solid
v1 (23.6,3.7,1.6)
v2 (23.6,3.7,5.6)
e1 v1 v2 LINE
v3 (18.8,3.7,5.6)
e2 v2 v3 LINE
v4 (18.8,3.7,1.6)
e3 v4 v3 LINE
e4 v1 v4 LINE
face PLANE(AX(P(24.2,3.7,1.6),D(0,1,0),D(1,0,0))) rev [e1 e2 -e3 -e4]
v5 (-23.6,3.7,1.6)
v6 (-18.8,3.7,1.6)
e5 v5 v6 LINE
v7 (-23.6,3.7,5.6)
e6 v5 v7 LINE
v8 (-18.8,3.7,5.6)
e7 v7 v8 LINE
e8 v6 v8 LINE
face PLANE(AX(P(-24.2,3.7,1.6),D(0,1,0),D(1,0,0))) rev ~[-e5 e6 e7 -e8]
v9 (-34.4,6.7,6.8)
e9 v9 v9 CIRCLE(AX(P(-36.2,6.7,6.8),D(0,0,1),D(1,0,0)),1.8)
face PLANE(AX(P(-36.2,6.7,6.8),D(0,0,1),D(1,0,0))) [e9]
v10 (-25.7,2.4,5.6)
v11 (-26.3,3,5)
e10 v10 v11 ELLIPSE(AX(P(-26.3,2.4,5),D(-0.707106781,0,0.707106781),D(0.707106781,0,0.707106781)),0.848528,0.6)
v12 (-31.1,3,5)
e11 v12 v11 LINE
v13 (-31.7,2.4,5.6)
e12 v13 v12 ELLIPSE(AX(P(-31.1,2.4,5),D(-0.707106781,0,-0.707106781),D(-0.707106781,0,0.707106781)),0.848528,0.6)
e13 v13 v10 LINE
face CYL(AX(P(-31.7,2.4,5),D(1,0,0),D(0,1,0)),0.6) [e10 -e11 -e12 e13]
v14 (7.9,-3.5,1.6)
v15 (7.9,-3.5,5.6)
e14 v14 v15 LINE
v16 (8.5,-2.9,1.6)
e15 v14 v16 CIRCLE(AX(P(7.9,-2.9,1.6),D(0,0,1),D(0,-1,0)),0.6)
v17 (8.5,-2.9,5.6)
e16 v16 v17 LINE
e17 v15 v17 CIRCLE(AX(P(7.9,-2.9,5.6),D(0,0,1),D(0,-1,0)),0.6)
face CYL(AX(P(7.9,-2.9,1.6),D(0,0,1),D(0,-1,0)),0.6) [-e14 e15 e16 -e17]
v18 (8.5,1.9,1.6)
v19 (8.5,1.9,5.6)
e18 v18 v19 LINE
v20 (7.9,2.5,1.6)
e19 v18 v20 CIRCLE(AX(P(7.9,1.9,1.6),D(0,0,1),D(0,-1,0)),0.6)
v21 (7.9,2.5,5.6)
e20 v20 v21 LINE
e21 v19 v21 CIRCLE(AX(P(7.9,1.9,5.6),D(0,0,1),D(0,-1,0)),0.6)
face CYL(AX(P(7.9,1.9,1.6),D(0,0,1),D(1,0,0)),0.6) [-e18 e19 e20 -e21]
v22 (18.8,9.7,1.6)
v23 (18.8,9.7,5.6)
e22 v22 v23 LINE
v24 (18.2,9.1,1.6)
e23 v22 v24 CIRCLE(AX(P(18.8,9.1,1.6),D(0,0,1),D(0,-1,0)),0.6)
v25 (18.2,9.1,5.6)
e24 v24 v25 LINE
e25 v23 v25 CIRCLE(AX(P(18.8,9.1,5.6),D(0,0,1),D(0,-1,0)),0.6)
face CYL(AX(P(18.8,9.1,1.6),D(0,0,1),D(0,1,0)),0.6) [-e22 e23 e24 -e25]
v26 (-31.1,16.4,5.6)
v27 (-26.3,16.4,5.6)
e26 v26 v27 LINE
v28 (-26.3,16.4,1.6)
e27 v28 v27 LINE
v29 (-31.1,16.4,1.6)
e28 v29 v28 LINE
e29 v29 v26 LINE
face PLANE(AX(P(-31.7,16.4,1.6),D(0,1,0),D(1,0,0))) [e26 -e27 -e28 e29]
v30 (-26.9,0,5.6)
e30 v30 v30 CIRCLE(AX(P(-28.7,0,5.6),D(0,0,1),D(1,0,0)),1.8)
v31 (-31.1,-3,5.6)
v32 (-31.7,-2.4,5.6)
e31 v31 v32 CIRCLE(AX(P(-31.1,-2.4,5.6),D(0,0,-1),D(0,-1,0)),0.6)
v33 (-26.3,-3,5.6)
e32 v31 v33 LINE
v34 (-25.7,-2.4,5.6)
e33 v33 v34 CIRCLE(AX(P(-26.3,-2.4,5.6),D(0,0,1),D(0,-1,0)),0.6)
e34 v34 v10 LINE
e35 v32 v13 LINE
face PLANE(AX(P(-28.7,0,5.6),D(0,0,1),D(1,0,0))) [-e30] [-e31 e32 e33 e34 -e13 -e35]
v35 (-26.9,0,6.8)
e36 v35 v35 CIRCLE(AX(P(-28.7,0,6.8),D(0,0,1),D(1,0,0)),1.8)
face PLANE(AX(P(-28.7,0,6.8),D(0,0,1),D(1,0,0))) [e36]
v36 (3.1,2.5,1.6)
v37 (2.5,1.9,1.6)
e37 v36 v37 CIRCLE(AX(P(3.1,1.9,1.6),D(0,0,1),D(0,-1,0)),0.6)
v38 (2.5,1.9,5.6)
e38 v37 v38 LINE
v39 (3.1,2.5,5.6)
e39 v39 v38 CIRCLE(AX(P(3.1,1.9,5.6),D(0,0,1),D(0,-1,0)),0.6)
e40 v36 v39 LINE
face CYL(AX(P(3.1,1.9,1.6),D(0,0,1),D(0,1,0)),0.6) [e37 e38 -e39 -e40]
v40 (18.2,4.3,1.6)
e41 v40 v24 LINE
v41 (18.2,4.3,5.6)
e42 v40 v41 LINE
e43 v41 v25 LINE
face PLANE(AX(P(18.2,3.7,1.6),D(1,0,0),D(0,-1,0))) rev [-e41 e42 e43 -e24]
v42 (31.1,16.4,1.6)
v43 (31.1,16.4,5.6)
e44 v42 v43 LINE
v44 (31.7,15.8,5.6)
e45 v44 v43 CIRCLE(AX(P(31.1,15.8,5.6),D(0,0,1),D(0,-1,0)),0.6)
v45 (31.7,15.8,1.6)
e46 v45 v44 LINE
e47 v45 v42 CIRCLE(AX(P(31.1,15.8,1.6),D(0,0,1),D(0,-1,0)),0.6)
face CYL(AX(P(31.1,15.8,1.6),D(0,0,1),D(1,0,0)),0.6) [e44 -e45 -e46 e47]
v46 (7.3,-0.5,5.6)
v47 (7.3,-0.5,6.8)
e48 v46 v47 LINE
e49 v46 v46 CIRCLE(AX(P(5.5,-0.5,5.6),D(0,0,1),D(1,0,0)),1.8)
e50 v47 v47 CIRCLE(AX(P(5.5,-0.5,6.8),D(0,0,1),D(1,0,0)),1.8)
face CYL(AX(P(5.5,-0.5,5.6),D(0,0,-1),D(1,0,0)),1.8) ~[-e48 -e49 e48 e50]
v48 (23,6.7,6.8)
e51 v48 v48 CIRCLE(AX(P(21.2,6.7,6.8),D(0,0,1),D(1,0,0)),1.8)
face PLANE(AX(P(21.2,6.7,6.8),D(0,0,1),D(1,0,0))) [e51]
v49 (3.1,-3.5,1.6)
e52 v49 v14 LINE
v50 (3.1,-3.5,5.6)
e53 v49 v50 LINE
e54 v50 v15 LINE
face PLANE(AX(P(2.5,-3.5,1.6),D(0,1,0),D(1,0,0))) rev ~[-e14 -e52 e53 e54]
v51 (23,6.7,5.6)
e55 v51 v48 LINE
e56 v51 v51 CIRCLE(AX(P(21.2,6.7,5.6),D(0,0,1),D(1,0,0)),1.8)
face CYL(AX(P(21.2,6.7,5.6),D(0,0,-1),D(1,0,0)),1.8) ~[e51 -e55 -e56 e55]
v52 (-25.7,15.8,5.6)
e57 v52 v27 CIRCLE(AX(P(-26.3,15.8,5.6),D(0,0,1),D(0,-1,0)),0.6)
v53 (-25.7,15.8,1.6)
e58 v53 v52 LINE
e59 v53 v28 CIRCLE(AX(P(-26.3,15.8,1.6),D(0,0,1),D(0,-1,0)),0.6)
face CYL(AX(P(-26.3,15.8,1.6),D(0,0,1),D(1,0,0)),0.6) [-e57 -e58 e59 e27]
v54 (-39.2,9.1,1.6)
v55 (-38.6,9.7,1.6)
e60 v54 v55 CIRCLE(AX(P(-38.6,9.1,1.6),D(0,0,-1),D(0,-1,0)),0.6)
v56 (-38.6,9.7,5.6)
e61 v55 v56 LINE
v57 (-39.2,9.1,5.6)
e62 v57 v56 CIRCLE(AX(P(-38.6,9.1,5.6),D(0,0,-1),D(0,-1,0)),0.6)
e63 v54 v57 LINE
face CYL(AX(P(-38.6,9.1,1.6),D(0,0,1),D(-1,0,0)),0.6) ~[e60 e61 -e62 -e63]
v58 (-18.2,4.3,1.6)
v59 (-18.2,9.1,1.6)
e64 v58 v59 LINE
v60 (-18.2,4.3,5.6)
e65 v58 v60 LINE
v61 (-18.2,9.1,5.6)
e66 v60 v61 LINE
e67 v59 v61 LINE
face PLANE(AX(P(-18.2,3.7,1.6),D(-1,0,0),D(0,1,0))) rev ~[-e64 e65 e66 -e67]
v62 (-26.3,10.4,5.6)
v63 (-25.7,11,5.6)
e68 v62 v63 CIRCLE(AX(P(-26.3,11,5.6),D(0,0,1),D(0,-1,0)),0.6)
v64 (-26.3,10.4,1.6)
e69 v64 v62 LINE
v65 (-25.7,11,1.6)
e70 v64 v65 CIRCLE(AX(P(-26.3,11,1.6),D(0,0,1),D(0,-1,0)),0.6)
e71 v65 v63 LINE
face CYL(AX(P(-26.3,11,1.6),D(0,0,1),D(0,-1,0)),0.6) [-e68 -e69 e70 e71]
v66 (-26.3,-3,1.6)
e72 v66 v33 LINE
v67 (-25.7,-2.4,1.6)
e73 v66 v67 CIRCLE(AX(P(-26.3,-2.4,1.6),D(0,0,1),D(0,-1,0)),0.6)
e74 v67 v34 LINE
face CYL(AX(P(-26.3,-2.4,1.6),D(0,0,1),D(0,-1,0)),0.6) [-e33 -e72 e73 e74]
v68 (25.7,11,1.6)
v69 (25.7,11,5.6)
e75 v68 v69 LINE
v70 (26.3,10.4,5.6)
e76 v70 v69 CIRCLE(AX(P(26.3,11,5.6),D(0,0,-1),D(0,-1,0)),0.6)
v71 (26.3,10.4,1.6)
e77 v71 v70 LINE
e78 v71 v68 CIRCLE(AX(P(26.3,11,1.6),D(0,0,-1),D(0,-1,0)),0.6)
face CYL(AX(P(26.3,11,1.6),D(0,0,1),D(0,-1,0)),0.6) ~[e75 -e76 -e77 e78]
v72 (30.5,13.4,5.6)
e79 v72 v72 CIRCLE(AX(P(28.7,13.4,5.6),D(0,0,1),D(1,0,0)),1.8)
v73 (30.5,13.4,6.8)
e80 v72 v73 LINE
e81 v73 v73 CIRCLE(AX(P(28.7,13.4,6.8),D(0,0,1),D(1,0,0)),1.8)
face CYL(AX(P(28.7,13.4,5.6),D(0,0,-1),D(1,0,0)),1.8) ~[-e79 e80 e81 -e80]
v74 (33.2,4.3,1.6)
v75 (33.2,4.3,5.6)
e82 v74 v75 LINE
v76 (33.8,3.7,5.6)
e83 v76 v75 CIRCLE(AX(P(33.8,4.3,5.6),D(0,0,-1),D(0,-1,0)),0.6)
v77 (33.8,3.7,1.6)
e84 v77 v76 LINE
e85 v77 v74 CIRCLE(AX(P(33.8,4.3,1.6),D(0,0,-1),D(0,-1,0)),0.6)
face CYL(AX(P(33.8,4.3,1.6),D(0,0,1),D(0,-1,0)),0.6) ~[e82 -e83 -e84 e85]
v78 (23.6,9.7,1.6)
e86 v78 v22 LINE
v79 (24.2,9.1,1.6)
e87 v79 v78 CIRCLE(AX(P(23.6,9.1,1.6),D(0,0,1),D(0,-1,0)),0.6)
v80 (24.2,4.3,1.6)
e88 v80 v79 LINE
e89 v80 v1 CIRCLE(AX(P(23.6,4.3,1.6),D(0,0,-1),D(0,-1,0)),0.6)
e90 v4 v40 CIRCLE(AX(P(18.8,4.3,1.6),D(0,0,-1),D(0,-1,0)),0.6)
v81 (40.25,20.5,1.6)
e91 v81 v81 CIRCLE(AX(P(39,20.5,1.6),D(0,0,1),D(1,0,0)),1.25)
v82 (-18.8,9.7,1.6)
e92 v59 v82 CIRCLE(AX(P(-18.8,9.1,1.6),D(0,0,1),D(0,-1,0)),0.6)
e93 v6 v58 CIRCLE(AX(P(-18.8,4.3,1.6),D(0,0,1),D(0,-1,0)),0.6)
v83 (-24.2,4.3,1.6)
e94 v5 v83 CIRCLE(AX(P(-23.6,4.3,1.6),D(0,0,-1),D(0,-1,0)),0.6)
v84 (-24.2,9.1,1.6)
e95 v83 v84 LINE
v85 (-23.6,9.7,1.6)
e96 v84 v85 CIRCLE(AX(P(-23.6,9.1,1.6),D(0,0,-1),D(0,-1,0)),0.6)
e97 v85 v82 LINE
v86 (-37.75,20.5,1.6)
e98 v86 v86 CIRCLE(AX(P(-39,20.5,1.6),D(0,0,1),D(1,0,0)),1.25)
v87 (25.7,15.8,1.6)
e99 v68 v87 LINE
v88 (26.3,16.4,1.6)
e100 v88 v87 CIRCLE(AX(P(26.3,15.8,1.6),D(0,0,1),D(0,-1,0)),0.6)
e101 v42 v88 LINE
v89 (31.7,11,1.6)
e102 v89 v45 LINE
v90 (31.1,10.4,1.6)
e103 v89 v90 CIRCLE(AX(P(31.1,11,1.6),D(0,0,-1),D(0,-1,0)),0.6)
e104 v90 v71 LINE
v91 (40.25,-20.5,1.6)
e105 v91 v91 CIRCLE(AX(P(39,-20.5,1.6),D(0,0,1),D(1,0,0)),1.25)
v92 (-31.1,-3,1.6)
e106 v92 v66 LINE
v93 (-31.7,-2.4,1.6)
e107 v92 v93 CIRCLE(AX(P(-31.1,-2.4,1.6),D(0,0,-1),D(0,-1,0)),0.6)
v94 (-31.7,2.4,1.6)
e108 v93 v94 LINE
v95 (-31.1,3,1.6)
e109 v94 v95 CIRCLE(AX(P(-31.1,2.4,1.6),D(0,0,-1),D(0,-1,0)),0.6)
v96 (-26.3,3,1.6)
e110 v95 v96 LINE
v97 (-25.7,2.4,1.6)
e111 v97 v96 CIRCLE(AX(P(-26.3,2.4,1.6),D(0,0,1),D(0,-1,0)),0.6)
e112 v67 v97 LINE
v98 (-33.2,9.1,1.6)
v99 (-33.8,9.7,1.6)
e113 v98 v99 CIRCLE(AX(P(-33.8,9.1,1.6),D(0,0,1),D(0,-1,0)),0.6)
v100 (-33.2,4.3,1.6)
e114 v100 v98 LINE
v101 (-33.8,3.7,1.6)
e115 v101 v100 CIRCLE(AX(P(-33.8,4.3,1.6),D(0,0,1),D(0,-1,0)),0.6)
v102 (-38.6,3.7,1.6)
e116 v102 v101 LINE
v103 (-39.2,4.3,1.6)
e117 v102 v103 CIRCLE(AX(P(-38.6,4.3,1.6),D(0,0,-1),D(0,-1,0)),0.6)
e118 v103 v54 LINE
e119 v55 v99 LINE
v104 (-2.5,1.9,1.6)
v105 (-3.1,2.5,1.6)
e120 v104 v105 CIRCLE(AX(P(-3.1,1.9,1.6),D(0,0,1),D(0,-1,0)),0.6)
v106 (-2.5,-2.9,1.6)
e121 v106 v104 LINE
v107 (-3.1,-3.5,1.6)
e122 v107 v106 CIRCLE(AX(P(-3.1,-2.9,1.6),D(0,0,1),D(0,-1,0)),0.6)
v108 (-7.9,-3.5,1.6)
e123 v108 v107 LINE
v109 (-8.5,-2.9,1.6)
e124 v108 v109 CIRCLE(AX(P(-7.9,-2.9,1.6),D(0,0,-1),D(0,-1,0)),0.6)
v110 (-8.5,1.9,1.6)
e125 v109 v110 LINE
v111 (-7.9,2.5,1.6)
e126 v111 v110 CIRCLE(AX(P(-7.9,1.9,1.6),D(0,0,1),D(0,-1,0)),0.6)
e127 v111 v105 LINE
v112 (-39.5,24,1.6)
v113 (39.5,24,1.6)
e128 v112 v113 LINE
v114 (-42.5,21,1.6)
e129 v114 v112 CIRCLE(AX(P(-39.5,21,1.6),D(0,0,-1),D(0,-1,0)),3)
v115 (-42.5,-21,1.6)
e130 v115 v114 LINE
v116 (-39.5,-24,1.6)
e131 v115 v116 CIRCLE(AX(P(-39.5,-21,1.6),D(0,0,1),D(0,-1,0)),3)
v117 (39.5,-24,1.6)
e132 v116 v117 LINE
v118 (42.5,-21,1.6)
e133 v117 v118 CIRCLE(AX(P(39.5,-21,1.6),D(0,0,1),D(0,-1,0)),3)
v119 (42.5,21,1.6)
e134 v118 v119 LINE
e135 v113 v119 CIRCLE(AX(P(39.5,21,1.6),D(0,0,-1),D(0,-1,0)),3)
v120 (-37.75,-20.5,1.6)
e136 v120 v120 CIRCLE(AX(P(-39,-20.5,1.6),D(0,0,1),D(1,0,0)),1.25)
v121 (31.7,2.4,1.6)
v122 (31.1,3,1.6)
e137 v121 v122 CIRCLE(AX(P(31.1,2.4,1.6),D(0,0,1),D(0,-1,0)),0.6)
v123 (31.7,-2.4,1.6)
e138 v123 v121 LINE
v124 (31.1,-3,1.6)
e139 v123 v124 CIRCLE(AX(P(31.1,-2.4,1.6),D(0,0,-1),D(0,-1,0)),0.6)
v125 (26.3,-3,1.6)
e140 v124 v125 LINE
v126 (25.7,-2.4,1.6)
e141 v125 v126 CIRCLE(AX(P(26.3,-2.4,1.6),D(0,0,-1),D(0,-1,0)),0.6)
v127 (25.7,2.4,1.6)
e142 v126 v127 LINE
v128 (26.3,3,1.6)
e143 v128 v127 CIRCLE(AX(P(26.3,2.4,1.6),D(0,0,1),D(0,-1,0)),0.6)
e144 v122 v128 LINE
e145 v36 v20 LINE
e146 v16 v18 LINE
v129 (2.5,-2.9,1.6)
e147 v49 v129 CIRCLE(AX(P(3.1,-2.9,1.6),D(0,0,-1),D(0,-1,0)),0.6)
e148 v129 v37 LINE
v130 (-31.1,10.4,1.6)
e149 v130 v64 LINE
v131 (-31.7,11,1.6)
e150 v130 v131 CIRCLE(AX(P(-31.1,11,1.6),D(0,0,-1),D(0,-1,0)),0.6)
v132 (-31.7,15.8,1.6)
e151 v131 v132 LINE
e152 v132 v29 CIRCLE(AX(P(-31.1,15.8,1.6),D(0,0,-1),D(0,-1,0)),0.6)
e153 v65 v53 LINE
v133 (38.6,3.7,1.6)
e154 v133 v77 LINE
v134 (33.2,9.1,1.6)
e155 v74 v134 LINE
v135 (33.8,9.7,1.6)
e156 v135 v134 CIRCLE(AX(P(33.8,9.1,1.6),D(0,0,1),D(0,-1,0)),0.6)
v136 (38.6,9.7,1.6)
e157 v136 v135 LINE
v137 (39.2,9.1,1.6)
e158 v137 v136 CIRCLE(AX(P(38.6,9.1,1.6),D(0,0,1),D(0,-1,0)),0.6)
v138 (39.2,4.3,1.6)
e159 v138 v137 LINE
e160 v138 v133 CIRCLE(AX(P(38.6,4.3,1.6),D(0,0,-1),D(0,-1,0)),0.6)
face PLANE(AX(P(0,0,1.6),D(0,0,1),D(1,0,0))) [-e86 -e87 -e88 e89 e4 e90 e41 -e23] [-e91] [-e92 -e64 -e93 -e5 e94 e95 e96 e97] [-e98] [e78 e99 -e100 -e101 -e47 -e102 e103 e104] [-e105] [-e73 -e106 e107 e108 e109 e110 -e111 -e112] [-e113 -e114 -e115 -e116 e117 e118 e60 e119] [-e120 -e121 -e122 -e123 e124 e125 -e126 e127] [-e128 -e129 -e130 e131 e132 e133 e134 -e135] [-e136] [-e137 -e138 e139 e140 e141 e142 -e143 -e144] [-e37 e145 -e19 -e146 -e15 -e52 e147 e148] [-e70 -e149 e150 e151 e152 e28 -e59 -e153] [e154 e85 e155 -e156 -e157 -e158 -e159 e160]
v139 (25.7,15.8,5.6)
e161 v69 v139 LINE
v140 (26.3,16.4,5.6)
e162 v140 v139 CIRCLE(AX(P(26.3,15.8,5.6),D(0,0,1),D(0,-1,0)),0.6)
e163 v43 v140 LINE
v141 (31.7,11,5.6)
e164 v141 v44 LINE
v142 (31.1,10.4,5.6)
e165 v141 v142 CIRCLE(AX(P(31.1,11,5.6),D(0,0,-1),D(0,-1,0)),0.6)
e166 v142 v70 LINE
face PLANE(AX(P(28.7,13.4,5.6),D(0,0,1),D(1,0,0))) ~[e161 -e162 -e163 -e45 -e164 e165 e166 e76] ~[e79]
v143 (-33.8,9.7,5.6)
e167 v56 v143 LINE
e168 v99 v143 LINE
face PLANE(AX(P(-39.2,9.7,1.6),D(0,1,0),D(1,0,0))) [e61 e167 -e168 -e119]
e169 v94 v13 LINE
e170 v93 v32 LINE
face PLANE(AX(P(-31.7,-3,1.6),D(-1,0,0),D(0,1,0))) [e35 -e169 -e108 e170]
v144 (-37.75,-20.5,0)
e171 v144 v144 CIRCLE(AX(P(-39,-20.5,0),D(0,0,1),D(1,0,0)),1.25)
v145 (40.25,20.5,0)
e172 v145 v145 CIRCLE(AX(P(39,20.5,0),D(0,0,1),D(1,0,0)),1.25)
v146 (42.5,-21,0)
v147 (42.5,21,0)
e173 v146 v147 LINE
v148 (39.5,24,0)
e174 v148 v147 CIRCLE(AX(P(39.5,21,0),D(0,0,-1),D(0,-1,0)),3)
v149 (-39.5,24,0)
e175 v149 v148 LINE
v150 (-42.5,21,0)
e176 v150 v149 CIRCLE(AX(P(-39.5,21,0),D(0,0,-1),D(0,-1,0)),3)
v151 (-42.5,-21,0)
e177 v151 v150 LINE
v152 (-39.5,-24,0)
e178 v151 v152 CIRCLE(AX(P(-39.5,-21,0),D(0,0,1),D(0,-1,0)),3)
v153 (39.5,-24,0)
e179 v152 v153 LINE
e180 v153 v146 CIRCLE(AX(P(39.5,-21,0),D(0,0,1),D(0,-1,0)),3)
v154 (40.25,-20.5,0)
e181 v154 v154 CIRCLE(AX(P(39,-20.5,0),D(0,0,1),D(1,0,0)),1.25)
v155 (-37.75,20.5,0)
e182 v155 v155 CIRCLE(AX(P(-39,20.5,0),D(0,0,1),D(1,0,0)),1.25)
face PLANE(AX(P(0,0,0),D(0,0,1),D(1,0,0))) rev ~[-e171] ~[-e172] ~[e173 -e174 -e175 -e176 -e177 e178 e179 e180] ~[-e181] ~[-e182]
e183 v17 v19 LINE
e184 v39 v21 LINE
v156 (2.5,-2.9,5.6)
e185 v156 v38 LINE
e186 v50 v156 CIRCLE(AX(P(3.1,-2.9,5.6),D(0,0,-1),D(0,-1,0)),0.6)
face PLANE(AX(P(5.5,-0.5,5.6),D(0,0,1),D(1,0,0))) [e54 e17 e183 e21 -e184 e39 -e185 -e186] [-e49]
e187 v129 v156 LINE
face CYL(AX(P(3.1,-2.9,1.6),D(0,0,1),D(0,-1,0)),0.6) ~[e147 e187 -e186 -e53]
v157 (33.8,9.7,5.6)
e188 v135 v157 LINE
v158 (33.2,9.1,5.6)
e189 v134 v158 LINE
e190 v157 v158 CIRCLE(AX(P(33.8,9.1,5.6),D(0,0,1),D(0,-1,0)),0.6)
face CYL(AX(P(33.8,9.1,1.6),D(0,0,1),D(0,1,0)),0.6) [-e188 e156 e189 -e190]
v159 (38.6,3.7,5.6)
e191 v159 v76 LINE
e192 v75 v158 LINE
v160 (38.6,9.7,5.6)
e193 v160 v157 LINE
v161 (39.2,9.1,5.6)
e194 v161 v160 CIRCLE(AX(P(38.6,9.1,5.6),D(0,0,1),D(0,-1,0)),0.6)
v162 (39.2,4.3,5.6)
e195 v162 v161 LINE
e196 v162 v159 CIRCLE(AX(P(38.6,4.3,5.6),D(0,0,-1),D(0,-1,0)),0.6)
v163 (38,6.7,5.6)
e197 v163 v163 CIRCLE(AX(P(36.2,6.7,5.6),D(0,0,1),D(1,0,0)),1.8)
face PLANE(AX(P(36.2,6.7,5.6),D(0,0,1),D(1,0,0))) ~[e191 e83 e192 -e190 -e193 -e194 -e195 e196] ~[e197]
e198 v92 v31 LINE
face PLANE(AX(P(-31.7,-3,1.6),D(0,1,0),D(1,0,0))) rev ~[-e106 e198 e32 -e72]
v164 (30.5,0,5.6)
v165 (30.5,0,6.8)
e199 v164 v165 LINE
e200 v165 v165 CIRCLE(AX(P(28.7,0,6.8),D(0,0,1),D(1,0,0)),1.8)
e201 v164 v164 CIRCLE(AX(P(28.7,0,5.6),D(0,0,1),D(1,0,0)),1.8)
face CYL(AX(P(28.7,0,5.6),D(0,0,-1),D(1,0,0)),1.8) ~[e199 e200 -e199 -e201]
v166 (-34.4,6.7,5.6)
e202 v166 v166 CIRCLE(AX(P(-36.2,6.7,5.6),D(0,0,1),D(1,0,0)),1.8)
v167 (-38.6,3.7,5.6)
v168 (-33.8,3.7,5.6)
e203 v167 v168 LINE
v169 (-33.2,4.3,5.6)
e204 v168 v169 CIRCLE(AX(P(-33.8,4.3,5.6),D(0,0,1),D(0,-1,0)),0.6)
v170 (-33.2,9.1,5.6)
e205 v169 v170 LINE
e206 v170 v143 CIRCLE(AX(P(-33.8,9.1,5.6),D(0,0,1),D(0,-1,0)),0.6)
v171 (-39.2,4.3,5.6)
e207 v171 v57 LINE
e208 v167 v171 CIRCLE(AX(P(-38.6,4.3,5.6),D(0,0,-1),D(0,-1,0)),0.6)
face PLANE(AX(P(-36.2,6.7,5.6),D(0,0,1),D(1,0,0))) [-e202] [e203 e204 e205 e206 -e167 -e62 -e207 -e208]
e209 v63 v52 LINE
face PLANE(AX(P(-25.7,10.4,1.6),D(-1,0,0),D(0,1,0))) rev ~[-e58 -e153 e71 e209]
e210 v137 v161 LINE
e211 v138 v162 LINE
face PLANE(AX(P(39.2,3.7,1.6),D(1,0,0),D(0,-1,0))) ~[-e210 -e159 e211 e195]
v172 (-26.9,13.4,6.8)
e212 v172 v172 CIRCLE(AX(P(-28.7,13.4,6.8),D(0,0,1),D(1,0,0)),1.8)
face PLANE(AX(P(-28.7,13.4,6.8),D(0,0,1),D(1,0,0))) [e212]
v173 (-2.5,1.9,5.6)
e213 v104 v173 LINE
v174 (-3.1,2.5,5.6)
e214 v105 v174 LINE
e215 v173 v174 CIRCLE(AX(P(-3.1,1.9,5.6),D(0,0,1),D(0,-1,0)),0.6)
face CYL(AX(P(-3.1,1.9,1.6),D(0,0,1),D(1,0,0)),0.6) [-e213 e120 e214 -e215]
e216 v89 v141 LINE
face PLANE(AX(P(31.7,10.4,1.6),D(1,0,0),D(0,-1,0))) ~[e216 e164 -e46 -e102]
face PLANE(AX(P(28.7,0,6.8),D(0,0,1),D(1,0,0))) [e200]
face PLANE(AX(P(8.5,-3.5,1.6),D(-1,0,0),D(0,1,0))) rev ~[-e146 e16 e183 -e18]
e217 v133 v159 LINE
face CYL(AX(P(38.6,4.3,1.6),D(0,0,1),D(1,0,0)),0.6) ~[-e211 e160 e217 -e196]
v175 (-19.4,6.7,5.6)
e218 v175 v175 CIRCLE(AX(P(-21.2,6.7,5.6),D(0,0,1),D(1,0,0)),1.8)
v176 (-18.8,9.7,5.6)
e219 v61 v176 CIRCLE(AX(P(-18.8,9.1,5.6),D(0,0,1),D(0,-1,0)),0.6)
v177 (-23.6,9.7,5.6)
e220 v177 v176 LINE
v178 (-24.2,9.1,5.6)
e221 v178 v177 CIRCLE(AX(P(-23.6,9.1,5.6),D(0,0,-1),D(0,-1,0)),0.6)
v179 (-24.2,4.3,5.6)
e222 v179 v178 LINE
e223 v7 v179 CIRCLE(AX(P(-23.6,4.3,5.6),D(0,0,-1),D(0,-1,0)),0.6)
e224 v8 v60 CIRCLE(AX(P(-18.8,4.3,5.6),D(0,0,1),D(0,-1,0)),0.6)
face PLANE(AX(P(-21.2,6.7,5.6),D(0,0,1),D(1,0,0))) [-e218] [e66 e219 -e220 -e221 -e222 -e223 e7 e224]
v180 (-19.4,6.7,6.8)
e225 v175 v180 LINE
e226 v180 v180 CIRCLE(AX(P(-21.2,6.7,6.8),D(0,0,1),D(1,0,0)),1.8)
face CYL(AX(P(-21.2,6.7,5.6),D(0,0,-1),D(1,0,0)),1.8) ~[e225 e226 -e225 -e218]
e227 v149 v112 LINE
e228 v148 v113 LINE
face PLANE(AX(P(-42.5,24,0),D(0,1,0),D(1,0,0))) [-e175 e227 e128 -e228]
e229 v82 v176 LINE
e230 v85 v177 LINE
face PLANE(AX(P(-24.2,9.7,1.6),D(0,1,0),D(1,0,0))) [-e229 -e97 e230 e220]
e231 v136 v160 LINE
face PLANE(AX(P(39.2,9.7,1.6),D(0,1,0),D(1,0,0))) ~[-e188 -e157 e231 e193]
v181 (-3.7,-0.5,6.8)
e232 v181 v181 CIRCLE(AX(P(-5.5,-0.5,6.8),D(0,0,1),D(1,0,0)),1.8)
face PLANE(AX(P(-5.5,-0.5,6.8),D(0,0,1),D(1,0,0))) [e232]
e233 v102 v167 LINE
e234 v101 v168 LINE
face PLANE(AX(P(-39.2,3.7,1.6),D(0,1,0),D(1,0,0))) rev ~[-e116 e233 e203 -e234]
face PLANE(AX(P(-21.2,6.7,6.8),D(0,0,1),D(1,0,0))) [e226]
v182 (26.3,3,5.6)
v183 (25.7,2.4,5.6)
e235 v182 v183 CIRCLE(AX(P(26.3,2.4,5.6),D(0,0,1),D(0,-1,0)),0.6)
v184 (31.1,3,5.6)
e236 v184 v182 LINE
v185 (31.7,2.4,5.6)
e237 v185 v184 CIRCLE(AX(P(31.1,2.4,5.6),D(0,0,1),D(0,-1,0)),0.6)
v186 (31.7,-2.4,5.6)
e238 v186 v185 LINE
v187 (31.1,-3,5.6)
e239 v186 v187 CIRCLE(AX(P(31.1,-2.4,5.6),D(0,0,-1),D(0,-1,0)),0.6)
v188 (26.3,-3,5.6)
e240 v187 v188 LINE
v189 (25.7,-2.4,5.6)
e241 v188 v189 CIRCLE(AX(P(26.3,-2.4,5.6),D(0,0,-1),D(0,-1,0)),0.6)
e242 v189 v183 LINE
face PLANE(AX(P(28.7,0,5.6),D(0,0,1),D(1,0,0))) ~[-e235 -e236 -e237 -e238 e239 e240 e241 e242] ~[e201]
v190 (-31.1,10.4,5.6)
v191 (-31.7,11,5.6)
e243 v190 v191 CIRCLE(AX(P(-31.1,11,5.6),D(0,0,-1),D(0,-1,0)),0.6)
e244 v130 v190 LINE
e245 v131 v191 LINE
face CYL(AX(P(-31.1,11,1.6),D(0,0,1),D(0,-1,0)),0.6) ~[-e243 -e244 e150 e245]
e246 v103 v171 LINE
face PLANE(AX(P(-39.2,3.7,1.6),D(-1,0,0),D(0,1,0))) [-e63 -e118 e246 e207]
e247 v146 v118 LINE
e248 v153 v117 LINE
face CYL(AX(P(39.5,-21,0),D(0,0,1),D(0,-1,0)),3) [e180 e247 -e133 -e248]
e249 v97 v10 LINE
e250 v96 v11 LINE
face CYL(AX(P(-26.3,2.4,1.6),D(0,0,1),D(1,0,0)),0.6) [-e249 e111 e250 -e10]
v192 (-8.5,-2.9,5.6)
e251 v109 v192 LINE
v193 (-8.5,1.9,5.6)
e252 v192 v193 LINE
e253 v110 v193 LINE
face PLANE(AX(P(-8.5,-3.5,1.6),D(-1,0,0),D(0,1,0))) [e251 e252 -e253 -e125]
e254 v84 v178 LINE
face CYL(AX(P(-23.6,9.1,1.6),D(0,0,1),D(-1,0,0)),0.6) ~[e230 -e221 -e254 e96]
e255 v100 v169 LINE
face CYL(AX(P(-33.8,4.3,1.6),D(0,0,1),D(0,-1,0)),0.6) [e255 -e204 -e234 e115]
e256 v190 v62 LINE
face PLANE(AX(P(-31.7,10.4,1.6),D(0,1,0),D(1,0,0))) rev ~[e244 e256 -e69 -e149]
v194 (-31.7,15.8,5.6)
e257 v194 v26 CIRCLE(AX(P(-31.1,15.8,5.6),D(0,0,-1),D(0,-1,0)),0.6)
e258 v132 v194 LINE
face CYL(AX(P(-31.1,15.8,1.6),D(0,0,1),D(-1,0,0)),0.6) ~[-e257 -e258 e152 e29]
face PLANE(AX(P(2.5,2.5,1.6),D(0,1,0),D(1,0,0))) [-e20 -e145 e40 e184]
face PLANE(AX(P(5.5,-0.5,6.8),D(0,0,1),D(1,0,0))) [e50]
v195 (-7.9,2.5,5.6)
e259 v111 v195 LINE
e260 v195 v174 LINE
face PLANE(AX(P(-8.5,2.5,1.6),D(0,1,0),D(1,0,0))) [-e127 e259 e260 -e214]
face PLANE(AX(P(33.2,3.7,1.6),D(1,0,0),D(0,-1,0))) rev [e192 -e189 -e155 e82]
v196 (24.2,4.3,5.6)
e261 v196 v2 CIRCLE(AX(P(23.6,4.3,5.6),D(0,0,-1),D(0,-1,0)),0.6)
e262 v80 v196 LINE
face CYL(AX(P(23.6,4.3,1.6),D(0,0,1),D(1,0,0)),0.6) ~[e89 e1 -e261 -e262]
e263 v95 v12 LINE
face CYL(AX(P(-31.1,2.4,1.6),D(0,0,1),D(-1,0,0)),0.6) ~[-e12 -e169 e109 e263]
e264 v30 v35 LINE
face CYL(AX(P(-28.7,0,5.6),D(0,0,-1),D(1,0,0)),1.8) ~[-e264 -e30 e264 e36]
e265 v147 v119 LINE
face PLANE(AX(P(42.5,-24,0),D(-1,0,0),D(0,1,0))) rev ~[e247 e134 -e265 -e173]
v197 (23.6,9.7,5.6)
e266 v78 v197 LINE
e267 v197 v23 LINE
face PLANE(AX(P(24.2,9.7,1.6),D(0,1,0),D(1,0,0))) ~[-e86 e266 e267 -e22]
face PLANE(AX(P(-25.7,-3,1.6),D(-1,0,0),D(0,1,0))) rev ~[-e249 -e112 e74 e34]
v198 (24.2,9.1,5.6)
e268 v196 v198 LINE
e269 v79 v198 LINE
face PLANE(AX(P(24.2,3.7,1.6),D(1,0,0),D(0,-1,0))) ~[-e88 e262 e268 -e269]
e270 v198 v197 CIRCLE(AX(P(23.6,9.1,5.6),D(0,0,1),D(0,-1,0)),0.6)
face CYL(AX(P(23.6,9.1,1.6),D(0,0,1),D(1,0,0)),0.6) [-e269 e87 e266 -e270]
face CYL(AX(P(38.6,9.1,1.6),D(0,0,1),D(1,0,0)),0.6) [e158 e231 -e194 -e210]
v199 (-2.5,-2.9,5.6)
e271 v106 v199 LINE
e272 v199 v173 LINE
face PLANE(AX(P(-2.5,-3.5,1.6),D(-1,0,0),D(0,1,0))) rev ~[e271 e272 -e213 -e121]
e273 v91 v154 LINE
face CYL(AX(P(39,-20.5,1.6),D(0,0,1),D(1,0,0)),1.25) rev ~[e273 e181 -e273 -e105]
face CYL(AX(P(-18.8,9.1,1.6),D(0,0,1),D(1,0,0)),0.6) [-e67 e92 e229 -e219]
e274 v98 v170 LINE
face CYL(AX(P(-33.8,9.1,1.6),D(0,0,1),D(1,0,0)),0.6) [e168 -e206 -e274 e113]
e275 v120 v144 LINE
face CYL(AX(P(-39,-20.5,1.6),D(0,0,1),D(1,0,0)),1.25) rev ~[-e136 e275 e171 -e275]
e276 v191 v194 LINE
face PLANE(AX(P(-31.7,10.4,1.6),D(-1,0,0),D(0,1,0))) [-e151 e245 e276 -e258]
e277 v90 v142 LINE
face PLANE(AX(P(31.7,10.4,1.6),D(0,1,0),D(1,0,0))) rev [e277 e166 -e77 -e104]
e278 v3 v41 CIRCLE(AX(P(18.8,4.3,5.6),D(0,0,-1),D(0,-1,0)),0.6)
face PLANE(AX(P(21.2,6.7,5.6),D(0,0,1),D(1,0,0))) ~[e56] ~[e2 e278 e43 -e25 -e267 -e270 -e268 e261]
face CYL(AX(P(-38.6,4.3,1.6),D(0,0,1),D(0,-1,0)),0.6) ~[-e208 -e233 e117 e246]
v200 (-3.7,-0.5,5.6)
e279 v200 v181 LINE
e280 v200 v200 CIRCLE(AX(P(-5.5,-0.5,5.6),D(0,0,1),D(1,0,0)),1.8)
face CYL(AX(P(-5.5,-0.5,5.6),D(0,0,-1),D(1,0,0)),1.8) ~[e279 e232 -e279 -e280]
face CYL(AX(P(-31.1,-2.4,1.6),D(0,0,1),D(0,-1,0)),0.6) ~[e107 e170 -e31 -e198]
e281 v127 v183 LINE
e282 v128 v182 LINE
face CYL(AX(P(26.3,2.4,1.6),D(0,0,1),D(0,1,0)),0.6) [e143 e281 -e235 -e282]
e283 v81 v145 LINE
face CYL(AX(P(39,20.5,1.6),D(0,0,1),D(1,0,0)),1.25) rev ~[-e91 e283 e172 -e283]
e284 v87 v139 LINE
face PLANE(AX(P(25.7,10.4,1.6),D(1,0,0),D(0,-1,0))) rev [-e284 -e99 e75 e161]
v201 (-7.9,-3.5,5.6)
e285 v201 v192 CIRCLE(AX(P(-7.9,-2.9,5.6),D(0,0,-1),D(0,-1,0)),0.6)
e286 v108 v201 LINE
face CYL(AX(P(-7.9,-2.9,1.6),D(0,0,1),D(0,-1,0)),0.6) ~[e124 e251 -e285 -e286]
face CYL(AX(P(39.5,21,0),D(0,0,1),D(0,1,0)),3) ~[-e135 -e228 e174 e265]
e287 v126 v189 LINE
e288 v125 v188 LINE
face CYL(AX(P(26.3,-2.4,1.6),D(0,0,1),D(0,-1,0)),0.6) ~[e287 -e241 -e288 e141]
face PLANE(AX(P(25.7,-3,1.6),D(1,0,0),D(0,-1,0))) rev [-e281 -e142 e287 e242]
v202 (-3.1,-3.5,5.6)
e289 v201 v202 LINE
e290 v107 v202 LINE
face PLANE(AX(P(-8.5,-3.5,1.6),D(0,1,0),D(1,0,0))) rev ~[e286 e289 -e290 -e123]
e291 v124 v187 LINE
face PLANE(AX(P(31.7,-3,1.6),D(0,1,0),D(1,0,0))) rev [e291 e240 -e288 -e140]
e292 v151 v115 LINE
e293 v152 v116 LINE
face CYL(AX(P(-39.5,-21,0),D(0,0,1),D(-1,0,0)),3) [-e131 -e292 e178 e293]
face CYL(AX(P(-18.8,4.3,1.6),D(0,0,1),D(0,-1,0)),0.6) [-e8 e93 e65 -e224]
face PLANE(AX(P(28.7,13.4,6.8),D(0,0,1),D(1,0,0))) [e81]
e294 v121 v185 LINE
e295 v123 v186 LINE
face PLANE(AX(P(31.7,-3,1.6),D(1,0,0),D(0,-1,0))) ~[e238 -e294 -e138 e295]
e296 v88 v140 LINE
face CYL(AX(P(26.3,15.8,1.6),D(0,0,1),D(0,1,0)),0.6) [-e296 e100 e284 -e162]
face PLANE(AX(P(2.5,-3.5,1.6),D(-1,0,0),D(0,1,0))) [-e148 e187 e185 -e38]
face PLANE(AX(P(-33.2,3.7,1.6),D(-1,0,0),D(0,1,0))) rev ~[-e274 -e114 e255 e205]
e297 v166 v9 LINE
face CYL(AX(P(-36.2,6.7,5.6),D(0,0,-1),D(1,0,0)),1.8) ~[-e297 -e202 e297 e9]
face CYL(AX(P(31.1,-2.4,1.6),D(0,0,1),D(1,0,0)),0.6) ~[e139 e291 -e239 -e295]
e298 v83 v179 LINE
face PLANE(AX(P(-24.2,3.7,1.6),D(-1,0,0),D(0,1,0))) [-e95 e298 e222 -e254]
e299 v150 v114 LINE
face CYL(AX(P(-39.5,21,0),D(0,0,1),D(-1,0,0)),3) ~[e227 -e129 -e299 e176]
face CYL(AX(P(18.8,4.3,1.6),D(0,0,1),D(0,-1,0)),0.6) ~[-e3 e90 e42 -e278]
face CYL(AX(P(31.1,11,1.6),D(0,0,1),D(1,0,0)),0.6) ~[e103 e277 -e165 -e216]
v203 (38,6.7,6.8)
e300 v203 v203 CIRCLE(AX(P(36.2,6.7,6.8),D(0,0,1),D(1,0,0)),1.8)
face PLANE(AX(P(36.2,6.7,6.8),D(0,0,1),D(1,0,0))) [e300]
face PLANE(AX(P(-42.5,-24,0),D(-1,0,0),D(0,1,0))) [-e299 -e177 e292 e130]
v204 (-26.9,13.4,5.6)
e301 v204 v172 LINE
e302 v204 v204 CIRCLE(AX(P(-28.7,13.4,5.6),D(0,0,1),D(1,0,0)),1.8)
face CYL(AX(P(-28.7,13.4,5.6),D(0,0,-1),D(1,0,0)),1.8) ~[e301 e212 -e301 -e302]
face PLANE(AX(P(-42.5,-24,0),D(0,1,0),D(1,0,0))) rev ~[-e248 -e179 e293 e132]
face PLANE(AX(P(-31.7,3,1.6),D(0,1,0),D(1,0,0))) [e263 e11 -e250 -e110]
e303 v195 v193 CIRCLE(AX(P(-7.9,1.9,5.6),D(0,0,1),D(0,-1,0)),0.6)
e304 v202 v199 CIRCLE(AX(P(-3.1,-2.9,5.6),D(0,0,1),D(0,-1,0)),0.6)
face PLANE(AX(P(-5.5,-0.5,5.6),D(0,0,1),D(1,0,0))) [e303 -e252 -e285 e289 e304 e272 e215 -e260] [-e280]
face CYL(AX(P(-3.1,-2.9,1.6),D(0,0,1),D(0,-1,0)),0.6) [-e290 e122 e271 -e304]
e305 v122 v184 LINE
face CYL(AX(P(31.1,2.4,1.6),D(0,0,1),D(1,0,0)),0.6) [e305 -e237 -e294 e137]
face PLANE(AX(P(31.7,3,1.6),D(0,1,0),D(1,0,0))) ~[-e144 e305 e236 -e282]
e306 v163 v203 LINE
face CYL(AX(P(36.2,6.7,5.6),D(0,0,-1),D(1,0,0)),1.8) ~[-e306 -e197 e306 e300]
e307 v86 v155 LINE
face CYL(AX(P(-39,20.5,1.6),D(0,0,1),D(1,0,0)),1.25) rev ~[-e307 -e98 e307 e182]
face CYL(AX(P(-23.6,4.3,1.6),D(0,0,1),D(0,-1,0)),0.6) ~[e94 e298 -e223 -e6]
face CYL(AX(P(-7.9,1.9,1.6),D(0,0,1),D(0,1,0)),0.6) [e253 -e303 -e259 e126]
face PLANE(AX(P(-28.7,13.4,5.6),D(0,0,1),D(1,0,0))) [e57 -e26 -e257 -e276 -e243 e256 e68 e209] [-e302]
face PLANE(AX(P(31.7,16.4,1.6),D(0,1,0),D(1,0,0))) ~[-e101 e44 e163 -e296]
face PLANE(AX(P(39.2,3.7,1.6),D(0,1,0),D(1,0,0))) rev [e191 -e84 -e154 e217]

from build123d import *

# Parameters (mm, degrees)
SKETCH1_W           = 85
SKETCH1_H           = 48
BOSS_EXTRUDE1_DEPTH = 1.6
SKETCH2_R           = 1.25
CUT_EXTRUDE1_DEPTH  = 5
FILLET1_R           = 3
SKETCH_1_W          = 6
SKETCH_1_H          = 6
EXTRUDE_1_DEPTH     = 4
SKETCH_2_W          = 6
SKETCH_2_H          = 6
EXTRUDE_2_DEPTH     = 4
SKETCH_3_R          = 1.8
EXTRUDE_3_DEPTH     = 1.2
FILLET_2_R          = 0.6


with BuildPart() as part:
    # Sketch1 → Boss-Extrude1 (new body)
    with BuildSketch(Plane.XY):
        Rectangle(SKETCH1_W, SKETCH1_H)
    extrude(amount=BOSS_EXTRUDE1_DEPTH)

    # Sketch2 → Cut-Extrude1 (cut)
    with BuildSketch(Plane.XY.offset(1.6)):
        with Locations((-39, 20.5)):
            Circle(SKETCH2_R)
        with Locations((39, 20.5)):
            Circle(SKETCH2_R)
        with Locations((39, -20.5)):
            Circle(SKETCH2_R)
        with Locations((-39, -20.5)):
            Circle(SKETCH2_R)
    extrude(amount=-CUT_EXTRUDE1_DEPTH, mode=Mode.SUBTRACT)

    # Fillet1
    fillet1_edges = [part.edges().sort_by_distance(p)[0] for p in [
        (-42.5, 24, 0.8),
        (42.5, 24, 0.8),
        (42.5, -24, 0.8),
        (-42.5, -24, 0.8),
    ]]
    fillet(fillet1_edges, radius=FILLET1_R)

    # 草图1 → 凸台-拉伸1 (add)
    with BuildSketch(Plane.XY.offset(1.6)):
        with Locations((-28.7, 13.4)):
            Rectangle(SKETCH_1_W, SKETCH_1_H)
        with Locations((-28.7, 0)):
            Rectangle(SKETCH_1_W, SKETCH_1_H)
        with Locations((-36.2, 6.7)):
            Rectangle(SKETCH_1_W, SKETCH_1_H)
        with Locations((-21.2, 6.7)):
            Rectangle(SKETCH_1_W, SKETCH_1_H)
    extrude_1 = extrude(amount=EXTRUDE_1_DEPTH)

    # 镜向1: 凸台-拉伸1 across plane
    add(extrude_1.mirror(Plane(origin=(0, 0, 0), x_dir=(0, 0, 1), z_dir=(1, 0, 0))))

    # 草图2 → 凸台-拉伸2 (add)
    with BuildSketch(Plane.XY.offset(1.6)):
        with Locations((-5.5, -0.5)):
            Rectangle(SKETCH_2_W, SKETCH_2_H)
        with Locations((5.5, -0.5)):
            Rectangle(SKETCH_2_W, SKETCH_2_H)
    extrude(amount=EXTRUDE_2_DEPTH)

    # 草图3 → 凸台-拉伸3 (add)
    with BuildSketch(Plane.XY.offset(5.6)):
        with Locations((-36.2, 6.7)):
            Circle(SKETCH_3_R)
        with Locations((-28.7, 13.4)):
            Circle(SKETCH_3_R)
        with Locations((-21.2, 6.7)):
            Circle(SKETCH_3_R)
        with Locations((-28.7, 0)):
            Circle(SKETCH_3_R)
        with Locations((-5.5, -0.5)):
            Circle(SKETCH_3_R)
        with Locations((5.5, -0.5)):
            Circle(SKETCH_3_R)
        with Locations((21.2, 6.7)):
            Circle(SKETCH_3_R)
        with Locations((28.7, 0)):
            Circle(SKETCH_3_R)
        with Locations((36.2, 6.7)):
            Circle(SKETCH_3_R)
        with Locations((28.7, 13.4)):
            Circle(SKETCH_3_R)
    extrude(amount=EXTRUDE_3_DEPTH)

    # 圆角2
    fillet_2_edges = [part.edges().sort_by_distance(p)[0] for p in [
        (25.7, 3, 3.6),
        (25.7, -3, 3.6),
        (31.7, -3, 3.6),
        (31.7, 3, 3.6),
        (39.2, 9.7, 3.6),
        (39.2, 3.7, 3.6),
        (33.2, 3.7, 3.6),
        (33.2, 9.7, 3.6),
        (31.7, 10.4, 3.6),
        (31.7, 16.4, 3.6),
        (25.7, 16.4, 3.6),
        (25.7, 10.4, 3.6),
        (18.2, 3.7, 3.6),
        (18.2, 9.7, 3.6),
        (24.2, 3.7, 3.6),
        (24.2, 9.7, 3.6),
        (8.5, 2.5, 3.6),
        (2.5, 2.5, 3.6),
        (2.5, -3.5, 3.6),
        (8.5, -3.5, 3.6),
        (-2.5, -3.5, 3.6),
        (-8.5, -3.5, 3.6),
        (-8.5, 2.5, 3.6),
        (-2.5, 2.5, 3.6),
        (-24.2, 9.7, 3.6),
        (-18.2, 3.7, 3.6),
        (-18.2, 9.7, 3.6),
        (-24.2, 3.7, 3.6),
        (-31.7, 3, 3.6),
        (-25.7, 3, 3.6),
        (-28.7, 3, 5.6),
        (-25.7, -3, 3.6),
        (-31.7, -3, 3.6),
        (-31.7, 16.4, 3.6),
        (-25.7, 16.4, 3.6),
        (-25.7, 10.4, 3.6),
        (-31.7, 10.4, 3.6),
        (-33.2, 9.7, 3.6),
        (-33.2, 3.7, 3.6),
        (-39.2, 3.7, 3.6),
        (-39.2, 9.7, 3.6),
    ]]
    fillet(fillet_2_edges, radius=FILLET_2_R)


solid = part.part
